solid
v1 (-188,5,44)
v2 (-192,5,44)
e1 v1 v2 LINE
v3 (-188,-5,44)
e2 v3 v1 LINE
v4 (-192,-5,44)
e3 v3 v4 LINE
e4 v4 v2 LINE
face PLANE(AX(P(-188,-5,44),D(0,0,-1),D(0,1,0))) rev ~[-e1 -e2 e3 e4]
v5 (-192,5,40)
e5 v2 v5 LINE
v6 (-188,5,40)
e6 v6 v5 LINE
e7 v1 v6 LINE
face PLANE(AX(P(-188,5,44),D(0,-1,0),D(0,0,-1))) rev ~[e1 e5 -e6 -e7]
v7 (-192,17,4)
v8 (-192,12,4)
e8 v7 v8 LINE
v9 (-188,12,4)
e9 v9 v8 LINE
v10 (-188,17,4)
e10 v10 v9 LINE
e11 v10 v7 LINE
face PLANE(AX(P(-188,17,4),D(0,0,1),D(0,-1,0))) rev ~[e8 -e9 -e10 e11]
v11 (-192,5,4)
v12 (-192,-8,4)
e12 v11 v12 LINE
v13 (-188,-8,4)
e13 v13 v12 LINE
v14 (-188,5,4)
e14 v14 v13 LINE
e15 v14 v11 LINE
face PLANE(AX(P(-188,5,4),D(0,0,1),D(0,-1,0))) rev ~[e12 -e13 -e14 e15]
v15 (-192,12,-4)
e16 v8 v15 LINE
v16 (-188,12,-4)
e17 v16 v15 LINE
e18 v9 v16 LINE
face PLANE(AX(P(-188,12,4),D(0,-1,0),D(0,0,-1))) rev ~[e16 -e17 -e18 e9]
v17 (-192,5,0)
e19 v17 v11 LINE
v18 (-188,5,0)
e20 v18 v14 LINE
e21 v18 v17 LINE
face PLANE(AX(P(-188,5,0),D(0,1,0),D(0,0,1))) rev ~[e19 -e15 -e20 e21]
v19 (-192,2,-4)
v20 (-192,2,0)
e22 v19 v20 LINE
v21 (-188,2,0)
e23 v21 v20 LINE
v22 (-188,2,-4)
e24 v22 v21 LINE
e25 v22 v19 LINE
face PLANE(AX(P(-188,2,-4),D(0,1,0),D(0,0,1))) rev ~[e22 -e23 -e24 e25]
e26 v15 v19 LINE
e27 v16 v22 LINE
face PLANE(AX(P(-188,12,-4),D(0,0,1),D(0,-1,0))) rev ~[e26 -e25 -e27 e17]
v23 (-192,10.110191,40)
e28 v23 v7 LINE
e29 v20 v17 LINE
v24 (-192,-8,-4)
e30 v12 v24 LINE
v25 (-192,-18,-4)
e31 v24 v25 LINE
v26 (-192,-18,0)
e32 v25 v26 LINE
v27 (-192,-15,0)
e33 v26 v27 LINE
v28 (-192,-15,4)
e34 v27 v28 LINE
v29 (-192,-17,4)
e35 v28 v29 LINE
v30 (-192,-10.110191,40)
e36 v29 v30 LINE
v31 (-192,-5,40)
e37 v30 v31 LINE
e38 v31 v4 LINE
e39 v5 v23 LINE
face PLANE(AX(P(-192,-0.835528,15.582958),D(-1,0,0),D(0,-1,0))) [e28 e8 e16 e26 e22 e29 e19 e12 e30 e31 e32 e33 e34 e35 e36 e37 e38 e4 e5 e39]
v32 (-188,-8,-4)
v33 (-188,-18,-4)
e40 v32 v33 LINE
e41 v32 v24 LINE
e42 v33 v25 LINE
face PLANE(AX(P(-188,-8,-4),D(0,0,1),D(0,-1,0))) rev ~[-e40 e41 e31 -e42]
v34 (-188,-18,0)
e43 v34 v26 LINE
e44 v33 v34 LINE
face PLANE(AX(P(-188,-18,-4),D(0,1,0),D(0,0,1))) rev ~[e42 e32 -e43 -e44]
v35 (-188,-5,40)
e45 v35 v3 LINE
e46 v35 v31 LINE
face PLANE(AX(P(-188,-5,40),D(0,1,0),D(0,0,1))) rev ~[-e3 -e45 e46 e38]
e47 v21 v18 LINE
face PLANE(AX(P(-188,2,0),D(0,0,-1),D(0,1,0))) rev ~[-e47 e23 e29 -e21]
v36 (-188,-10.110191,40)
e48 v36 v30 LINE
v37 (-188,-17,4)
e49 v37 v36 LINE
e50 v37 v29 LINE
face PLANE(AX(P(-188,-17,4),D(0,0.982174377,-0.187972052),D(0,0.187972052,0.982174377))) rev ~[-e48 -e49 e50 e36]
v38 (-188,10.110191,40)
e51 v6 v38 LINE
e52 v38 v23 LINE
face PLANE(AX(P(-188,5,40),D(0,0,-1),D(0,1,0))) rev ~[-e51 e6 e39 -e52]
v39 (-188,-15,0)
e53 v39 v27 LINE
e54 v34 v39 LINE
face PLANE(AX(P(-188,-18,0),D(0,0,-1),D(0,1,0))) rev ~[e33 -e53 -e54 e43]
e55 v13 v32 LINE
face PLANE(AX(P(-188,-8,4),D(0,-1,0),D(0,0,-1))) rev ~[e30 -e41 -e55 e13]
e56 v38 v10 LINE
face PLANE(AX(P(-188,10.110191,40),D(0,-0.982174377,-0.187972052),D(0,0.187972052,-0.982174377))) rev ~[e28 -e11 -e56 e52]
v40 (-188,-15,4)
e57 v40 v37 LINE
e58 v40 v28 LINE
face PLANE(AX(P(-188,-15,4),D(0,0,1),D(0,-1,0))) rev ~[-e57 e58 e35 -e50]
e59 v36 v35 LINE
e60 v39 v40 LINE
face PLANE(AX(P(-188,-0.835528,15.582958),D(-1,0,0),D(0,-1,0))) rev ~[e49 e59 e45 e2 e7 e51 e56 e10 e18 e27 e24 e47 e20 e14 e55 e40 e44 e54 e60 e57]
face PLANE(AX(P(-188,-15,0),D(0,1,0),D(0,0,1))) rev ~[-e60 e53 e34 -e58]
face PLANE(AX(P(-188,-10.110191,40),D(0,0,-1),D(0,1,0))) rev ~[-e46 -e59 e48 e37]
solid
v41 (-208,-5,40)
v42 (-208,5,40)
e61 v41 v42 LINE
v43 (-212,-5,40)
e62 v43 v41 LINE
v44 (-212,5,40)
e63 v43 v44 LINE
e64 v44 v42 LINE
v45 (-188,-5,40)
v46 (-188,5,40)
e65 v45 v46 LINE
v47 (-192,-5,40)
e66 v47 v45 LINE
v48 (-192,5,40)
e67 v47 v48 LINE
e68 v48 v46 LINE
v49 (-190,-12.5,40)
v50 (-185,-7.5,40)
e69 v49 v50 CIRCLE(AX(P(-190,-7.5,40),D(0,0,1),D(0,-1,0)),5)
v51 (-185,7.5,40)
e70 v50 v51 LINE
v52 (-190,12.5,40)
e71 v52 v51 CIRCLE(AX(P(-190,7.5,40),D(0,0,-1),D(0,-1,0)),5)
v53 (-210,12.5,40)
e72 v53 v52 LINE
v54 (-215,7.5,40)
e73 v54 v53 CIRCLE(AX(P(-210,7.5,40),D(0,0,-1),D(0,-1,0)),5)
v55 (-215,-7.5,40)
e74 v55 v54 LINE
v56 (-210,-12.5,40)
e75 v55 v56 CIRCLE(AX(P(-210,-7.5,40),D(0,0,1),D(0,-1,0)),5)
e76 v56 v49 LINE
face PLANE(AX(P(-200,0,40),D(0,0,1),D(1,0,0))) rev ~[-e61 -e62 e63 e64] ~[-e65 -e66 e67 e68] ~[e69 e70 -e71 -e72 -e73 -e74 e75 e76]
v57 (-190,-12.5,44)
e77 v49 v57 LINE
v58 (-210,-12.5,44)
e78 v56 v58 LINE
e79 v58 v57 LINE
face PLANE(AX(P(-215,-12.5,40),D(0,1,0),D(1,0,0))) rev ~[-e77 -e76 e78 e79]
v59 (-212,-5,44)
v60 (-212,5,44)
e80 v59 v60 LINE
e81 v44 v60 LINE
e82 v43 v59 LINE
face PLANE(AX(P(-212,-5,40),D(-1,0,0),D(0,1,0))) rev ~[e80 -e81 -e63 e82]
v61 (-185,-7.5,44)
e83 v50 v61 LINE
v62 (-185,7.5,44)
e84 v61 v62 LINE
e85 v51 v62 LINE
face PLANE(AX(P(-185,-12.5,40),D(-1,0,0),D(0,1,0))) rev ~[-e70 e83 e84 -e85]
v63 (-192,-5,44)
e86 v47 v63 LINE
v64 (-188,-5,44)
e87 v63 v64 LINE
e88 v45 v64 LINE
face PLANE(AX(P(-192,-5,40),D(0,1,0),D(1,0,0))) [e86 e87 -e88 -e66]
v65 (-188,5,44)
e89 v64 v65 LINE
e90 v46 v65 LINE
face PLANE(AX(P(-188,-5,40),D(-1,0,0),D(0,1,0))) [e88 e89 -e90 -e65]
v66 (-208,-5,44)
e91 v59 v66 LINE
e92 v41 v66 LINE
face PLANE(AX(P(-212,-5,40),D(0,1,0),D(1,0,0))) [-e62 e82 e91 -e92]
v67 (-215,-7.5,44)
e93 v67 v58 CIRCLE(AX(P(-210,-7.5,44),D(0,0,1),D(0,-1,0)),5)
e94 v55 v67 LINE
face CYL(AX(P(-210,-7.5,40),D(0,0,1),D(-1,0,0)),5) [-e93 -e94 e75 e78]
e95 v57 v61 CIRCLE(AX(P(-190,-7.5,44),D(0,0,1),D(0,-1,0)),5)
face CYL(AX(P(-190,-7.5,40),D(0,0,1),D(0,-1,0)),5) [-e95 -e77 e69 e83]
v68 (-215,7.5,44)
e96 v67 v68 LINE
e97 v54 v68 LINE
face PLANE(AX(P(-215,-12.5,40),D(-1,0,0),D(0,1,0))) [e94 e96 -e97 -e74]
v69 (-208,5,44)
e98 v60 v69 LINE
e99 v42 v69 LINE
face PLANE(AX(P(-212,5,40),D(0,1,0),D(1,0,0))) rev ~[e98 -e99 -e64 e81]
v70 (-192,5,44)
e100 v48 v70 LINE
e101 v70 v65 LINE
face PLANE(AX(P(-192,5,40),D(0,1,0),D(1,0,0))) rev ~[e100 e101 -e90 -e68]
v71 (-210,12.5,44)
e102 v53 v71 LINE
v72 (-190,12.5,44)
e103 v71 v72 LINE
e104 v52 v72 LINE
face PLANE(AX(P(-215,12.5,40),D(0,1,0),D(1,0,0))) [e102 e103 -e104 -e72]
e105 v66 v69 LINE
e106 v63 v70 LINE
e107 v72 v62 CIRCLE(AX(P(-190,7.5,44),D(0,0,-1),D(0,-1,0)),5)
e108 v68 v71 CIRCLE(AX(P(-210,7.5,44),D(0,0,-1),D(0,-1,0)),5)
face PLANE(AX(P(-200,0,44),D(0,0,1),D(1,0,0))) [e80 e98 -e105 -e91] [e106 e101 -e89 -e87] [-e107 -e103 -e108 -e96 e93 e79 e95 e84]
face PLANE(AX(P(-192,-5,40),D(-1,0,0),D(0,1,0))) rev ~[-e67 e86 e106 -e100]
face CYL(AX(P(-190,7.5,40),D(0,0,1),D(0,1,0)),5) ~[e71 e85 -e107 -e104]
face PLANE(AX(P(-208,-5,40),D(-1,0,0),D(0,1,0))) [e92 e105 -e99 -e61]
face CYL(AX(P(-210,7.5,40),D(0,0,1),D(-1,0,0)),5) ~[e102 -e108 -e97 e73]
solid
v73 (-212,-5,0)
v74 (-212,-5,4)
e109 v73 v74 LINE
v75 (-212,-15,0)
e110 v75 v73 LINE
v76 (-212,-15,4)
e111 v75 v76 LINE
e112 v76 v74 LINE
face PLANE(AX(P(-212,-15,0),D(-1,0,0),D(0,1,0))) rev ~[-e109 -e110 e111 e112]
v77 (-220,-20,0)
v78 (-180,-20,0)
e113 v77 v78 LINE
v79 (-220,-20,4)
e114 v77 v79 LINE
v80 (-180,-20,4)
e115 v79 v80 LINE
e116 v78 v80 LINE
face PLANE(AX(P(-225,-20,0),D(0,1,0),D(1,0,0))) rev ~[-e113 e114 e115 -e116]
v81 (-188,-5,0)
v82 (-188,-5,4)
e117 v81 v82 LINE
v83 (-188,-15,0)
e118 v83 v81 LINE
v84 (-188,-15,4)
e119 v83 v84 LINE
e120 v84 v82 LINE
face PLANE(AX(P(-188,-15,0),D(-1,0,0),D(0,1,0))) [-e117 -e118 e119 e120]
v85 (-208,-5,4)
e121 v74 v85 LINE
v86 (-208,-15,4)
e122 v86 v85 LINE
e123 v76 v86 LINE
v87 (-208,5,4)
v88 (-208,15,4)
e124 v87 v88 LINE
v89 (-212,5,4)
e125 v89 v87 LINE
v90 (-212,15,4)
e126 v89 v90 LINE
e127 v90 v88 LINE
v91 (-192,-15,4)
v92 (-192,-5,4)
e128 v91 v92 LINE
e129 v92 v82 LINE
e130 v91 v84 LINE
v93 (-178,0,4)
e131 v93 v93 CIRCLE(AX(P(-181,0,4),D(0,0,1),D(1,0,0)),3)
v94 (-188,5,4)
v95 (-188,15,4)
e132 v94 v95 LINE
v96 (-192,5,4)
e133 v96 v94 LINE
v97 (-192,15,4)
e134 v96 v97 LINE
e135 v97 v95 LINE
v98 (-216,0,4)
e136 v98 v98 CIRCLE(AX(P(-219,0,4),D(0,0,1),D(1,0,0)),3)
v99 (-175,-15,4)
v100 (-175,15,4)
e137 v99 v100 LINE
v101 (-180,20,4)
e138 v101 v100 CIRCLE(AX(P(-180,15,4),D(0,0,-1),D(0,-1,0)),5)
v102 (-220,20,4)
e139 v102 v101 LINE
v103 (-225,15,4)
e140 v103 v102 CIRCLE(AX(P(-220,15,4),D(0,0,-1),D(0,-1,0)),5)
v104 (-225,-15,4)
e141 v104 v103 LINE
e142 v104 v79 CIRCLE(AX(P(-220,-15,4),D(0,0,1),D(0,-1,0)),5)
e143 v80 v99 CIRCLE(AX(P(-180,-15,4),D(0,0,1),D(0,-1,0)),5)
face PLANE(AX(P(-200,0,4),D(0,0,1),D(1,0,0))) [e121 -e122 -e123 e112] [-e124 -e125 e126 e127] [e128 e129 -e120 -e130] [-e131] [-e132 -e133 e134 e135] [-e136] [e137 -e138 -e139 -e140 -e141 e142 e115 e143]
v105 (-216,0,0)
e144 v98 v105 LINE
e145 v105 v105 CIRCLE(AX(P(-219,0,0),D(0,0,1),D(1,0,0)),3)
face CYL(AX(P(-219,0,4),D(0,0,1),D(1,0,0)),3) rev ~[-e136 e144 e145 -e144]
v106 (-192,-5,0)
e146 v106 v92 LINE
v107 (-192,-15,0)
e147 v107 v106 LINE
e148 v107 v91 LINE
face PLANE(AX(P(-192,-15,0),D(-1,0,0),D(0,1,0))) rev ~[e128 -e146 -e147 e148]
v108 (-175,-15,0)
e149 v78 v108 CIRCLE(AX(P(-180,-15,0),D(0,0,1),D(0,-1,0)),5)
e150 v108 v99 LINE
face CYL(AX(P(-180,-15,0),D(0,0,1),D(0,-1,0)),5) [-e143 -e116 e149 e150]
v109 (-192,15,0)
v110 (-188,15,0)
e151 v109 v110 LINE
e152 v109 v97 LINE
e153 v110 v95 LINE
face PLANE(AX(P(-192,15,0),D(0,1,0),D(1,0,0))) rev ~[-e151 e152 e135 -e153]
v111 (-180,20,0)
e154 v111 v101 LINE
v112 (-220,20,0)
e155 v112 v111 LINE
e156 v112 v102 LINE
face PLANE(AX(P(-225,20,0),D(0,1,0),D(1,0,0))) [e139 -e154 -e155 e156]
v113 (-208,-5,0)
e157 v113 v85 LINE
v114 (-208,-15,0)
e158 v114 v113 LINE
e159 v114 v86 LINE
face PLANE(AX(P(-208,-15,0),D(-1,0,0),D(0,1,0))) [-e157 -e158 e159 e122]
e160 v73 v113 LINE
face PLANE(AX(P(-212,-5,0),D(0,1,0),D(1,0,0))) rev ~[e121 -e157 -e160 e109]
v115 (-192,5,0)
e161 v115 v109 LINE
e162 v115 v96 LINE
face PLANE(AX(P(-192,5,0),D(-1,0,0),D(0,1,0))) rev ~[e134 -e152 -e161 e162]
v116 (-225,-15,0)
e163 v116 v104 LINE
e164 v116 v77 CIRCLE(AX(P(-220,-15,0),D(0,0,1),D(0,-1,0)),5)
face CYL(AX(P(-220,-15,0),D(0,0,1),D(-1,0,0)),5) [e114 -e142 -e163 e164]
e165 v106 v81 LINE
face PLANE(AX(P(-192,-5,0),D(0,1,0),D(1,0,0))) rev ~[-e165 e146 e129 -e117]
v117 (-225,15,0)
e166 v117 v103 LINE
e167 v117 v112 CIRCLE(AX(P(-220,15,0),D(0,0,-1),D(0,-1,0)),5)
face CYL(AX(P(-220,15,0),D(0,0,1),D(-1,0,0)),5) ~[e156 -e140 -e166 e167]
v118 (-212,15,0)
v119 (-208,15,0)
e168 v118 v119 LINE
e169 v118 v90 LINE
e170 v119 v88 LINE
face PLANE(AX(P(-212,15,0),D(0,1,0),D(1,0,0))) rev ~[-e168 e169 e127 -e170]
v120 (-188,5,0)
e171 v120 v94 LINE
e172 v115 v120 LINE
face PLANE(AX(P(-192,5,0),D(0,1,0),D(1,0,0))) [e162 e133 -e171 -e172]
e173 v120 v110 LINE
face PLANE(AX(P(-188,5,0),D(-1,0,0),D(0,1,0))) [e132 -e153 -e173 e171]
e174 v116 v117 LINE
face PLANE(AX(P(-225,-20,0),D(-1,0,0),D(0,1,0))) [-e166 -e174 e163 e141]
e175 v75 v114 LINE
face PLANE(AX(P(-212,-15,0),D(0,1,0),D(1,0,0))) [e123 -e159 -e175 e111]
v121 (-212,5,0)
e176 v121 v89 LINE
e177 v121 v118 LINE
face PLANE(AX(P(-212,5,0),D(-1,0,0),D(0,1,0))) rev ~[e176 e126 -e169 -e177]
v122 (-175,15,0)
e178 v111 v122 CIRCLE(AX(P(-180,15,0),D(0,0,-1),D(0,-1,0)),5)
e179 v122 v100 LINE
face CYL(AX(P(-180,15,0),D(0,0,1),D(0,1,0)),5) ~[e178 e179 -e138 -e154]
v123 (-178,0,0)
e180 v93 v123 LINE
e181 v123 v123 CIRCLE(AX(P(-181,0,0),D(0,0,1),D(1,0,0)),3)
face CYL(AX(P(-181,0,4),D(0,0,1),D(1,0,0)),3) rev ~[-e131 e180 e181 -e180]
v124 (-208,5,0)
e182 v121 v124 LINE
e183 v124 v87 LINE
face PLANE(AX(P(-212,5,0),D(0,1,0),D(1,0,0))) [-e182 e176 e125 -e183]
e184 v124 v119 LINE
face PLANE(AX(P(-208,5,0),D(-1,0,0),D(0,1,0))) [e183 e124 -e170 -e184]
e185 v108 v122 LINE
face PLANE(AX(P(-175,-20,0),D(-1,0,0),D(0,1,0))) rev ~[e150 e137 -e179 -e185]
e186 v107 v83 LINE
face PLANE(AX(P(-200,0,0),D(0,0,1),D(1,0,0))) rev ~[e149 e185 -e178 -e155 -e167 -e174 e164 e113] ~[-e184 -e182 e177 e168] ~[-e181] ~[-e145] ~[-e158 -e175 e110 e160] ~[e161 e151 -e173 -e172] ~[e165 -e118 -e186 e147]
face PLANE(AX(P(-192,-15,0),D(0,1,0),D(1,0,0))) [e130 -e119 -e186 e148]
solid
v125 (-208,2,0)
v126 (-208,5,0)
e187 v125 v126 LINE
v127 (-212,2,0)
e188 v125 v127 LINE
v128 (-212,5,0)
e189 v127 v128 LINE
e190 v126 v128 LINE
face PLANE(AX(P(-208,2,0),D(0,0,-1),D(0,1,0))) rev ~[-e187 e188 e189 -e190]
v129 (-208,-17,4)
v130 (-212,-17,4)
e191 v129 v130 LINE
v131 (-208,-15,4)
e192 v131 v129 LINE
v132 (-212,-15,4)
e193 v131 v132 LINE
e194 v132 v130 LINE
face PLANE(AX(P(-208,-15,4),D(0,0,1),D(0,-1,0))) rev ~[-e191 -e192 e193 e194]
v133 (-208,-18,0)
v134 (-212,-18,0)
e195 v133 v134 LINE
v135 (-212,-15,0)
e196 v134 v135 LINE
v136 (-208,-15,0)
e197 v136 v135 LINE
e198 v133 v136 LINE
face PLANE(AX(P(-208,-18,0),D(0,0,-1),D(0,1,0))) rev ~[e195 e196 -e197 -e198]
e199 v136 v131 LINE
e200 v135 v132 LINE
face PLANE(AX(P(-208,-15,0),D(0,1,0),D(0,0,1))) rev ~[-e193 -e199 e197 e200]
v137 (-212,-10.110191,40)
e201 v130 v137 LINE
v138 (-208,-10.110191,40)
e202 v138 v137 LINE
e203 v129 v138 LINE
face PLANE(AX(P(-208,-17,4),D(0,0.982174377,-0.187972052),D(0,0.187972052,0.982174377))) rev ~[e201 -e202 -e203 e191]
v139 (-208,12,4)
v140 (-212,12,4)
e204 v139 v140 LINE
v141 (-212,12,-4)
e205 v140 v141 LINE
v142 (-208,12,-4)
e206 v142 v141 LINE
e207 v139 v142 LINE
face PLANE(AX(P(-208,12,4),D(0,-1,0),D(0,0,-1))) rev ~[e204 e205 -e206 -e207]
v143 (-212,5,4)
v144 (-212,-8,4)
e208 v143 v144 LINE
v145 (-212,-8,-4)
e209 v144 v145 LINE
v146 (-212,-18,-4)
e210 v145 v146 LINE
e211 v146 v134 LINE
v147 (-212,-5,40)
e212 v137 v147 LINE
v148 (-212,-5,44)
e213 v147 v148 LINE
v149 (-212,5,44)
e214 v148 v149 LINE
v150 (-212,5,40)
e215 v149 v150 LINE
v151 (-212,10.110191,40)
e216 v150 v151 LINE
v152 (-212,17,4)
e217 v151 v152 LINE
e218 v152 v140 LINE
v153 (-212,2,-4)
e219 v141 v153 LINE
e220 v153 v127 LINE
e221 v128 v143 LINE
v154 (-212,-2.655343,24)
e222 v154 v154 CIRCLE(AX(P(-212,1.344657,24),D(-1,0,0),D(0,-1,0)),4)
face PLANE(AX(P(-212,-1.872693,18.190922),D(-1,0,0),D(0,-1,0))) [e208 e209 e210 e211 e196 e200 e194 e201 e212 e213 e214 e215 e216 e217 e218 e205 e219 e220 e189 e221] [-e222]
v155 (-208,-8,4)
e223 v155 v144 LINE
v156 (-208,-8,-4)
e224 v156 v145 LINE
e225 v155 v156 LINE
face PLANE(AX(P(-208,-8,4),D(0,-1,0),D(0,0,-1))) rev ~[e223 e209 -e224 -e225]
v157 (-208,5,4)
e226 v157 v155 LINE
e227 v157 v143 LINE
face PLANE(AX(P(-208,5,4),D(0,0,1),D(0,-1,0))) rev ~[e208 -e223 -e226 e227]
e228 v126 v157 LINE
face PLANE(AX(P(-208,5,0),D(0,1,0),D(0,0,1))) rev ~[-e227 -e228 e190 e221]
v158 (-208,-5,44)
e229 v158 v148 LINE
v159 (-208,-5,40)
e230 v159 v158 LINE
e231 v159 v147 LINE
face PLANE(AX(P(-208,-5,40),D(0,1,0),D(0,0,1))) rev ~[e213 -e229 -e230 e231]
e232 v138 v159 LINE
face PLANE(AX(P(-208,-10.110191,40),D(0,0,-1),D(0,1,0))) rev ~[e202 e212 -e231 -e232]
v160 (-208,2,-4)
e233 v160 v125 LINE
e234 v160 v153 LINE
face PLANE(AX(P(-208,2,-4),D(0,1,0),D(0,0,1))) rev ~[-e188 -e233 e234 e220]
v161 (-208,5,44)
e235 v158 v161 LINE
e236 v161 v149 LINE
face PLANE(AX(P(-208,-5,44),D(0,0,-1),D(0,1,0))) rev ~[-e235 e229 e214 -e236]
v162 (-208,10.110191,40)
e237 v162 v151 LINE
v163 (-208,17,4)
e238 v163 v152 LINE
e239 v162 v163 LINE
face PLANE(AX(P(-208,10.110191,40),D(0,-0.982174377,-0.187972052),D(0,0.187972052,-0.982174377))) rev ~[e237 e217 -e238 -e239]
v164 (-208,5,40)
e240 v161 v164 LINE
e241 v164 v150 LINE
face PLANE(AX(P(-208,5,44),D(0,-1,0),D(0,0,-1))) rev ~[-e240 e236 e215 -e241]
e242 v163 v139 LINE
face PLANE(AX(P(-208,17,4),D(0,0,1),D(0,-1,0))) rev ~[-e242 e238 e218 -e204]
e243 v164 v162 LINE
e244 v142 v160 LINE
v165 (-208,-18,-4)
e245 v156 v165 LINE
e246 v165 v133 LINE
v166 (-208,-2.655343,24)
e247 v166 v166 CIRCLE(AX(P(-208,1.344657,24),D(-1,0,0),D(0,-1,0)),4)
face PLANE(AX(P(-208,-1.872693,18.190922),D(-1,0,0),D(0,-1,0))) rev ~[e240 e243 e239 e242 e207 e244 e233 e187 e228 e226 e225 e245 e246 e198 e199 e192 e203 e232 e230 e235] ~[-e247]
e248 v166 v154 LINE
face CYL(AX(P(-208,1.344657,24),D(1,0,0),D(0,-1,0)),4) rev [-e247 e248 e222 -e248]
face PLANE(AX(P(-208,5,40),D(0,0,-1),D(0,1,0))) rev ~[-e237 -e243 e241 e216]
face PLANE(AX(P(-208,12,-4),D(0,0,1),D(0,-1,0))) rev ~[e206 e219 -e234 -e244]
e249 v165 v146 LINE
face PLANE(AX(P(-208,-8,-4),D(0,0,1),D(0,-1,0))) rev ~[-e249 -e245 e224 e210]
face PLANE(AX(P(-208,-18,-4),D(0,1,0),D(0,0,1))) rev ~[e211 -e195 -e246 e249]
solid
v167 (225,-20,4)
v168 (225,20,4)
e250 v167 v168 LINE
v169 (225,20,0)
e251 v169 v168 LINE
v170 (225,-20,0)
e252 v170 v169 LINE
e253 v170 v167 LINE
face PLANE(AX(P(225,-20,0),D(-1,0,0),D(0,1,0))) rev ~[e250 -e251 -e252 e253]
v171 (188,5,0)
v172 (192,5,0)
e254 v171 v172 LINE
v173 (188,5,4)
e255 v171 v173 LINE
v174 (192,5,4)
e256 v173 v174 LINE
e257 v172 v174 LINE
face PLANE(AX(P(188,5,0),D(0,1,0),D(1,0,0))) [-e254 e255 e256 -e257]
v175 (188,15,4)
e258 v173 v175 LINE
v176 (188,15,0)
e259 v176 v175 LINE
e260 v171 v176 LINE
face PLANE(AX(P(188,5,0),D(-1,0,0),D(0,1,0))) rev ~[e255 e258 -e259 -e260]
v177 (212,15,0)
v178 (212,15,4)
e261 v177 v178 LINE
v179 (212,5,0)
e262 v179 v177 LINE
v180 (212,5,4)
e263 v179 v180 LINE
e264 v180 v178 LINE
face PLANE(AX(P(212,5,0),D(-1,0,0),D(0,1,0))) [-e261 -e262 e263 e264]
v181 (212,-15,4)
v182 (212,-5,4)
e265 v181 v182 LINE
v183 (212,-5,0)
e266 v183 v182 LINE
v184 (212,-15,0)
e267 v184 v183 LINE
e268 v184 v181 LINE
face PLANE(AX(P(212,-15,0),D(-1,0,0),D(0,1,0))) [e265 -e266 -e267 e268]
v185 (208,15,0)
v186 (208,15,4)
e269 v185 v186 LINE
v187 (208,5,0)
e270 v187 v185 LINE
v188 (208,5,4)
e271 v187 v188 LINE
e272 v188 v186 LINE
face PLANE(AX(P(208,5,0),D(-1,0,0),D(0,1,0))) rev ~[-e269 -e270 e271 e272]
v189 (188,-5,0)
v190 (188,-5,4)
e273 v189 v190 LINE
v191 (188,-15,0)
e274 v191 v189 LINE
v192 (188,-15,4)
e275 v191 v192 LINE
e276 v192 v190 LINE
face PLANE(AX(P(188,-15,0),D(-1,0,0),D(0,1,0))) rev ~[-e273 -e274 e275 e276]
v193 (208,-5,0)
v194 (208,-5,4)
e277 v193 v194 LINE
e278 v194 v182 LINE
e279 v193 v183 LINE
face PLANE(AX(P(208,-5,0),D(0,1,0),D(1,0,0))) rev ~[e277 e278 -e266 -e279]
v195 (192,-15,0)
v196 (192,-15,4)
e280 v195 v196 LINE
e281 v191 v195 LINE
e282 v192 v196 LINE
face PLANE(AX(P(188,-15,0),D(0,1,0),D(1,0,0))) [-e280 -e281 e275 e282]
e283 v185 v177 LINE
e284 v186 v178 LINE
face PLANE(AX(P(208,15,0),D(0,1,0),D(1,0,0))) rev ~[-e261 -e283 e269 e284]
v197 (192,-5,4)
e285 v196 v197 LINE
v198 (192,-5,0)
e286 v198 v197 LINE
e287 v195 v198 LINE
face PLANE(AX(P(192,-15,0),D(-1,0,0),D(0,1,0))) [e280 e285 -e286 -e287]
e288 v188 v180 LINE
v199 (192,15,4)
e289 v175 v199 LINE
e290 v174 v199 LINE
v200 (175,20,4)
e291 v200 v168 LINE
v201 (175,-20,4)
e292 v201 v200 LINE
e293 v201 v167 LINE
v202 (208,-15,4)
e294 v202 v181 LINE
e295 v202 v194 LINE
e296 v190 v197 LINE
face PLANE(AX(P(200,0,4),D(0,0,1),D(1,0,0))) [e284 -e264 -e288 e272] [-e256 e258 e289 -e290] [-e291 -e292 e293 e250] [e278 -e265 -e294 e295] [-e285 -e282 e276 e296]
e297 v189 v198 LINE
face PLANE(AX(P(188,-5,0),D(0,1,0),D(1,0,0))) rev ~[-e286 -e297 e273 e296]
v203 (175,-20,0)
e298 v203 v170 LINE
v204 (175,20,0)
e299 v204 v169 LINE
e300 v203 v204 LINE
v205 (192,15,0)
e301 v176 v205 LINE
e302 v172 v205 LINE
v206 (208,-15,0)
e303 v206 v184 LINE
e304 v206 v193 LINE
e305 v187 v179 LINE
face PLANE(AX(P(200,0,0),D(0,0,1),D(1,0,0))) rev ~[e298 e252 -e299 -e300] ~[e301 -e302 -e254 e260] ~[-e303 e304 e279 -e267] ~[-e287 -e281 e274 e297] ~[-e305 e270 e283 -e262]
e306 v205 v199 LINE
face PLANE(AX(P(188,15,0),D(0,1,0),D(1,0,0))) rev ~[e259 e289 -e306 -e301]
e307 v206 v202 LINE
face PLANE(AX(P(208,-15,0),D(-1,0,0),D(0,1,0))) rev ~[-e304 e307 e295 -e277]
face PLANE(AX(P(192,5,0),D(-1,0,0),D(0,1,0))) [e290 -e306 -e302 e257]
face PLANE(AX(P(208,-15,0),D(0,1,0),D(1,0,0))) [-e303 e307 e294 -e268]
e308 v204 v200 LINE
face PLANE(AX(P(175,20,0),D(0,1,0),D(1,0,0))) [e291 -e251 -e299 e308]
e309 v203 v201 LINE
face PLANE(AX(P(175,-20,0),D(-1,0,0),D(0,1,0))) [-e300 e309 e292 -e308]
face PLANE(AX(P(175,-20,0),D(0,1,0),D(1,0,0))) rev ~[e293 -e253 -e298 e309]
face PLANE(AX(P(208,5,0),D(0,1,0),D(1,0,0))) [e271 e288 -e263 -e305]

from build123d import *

# Parameters (mm, degrees)
F1_W      = 50
F1_H      = 40
F1_W_2    = 4
F1_H_2    = 10
F2_DEPTH  = 4
F3_R      = 5
F4_R      = 4
F5_DEPTH  = 4
F7_DEPTH  = 4
F8_W      = 30
F8_H      = 25
F8_W_2    = 4
F8_H_2    = 10
F9_DEPTH  = 4
F10_R     = 5
F11_R     = 3
F12_DEPTH = 25


with BuildPart() as f2:
    # F1 (on Top) → F2 (new body)
    with BuildSketch(Plane.XY):
        with Locations((-200, 0)):
            Rectangle(F1_W, F1_H)
        with Locations((-210, -10)):
            Rectangle(F1_W_2, F1_H_2, mode=Mode.SUBTRACT)
        with Locations((-190, -10)):
            Rectangle(F1_W_2, F1_H_2, mode=Mode.SUBTRACT)
        with Locations((-210, 10)):
            Rectangle(F1_W_2, F1_H_2, mode=Mode.SUBTRACT)
        with Locations((-190, 10)):
            Rectangle(F1_W_2, F1_H_2, mode=Mode.SUBTRACT)
        with Locations((200, 0)):
            Rectangle(F1_W, F1_H)
        with Locations((190, -10)):
            Rectangle(F1_W_2, F1_H_2, mode=Mode.SUBTRACT)
        with Locations((210, -10)):
            Rectangle(F1_W_2, F1_H_2, mode=Mode.SUBTRACT)
        with Locations((190, 10)):
            Rectangle(F1_W_2, F1_H_2, mode=Mode.SUBTRACT)
        with Locations((210, 10)):
            Rectangle(F1_W_2, F1_H_2, mode=Mode.SUBTRACT)
    extrude(amount=F2_DEPTH)

    # F3
    f3_edges = [f2.edges().sort_by_distance(p)[0] for p in [
        (-175, 20, 2),
        (-225, 20, 2),
        (-175, -20, 2),
        (-225, -20, 2),
    ]]
    fillet(f3_edges, radius=F3_R)

    # F11 (on face) → F12 (cut)
    with BuildSketch(Plane.XY.offset(4)):
        with Locations((-219, 0)):
            Circle(F11_R)
        with Locations((-181, 0)):
            Circle(F11_R)
    extrude(amount=-F12_DEPTH, mode=Mode.SUBTRACT)


with BuildPart() as f5:
    # F4 (on face) → F5 (new body)
    with BuildSketch(Plane(origin=(-208, 0, 0), x_dir=(0, -1, 0), z_dir=(-1, 0, 0))):
        Polygon((5, 44), (-5, 44), (-5, 40), (-10.110191, 40), (-17, 4), (-15, 4), (-12, 4), (-5, 4), (8, 4), (8, -4), (18, -4), (18, 0), (15, 0), (15, 4), (17, 4), (10.110191, 40), (5, 40), align=None)
        with Locations((-1.344657, 24)):
            Circle(F4_R, mode=Mode.SUBTRACT)
        Polygon((-5, 4), (-12, 4), (-12, -4), (-2, -4), (-2, 0), (-5, 0), align=None)
    extrude(amount=F5_DEPTH)


with BuildPart() as f7:
    # F6 (on face) → F7 (new body)
    with BuildSketch(Plane(origin=(-188, 0, 0), x_dir=(0, -1, 0), z_dir=(-1, 0, 0))):
        Polygon((-10.110191, 40), (-17, 4), (-12, 4), (-12, -4), (-2, -4), (-2, 0), (-5, 0), (-5, 4), (8, 4), (8, -4), (18, -4), (18, 0), (15, 0), (15, 4), (17, 4), (10.110191, 40), (5, 40), (5, 44), (-5, 44), (-5, 40), align=None)
    extrude(amount=F7_DEPTH)


with BuildPart() as f9:
    # F8 (on face) → F9 (new body)
    with BuildSketch(Plane.XY.offset(40)):
        with Locations((-200, 0)):
            Rectangle(F8_W, F8_H)
        with Locations((-210, 0)):
            Rectangle(F8_W_2, F8_H_2, mode=Mode.SUBTRACT)
        with Locations((-190, 0)):
            Rectangle(F8_W_2, F8_H_2, mode=Mode.SUBTRACT)
    extrude(amount=F9_DEPTH)

    # F10
    f10_edges = [f9.edges().sort_by_distance(p)[0] for p in [
        (-215, -12.5, 42),
        (-185, -12.5, 42),
        (-185, 12.5, 42),
        (-215, 12.5, 42),
    ]]
    fillet(f10_edges, radius=F10_R)


solid = Compound([f2.part, f5.part, f7.part, f9.part])
